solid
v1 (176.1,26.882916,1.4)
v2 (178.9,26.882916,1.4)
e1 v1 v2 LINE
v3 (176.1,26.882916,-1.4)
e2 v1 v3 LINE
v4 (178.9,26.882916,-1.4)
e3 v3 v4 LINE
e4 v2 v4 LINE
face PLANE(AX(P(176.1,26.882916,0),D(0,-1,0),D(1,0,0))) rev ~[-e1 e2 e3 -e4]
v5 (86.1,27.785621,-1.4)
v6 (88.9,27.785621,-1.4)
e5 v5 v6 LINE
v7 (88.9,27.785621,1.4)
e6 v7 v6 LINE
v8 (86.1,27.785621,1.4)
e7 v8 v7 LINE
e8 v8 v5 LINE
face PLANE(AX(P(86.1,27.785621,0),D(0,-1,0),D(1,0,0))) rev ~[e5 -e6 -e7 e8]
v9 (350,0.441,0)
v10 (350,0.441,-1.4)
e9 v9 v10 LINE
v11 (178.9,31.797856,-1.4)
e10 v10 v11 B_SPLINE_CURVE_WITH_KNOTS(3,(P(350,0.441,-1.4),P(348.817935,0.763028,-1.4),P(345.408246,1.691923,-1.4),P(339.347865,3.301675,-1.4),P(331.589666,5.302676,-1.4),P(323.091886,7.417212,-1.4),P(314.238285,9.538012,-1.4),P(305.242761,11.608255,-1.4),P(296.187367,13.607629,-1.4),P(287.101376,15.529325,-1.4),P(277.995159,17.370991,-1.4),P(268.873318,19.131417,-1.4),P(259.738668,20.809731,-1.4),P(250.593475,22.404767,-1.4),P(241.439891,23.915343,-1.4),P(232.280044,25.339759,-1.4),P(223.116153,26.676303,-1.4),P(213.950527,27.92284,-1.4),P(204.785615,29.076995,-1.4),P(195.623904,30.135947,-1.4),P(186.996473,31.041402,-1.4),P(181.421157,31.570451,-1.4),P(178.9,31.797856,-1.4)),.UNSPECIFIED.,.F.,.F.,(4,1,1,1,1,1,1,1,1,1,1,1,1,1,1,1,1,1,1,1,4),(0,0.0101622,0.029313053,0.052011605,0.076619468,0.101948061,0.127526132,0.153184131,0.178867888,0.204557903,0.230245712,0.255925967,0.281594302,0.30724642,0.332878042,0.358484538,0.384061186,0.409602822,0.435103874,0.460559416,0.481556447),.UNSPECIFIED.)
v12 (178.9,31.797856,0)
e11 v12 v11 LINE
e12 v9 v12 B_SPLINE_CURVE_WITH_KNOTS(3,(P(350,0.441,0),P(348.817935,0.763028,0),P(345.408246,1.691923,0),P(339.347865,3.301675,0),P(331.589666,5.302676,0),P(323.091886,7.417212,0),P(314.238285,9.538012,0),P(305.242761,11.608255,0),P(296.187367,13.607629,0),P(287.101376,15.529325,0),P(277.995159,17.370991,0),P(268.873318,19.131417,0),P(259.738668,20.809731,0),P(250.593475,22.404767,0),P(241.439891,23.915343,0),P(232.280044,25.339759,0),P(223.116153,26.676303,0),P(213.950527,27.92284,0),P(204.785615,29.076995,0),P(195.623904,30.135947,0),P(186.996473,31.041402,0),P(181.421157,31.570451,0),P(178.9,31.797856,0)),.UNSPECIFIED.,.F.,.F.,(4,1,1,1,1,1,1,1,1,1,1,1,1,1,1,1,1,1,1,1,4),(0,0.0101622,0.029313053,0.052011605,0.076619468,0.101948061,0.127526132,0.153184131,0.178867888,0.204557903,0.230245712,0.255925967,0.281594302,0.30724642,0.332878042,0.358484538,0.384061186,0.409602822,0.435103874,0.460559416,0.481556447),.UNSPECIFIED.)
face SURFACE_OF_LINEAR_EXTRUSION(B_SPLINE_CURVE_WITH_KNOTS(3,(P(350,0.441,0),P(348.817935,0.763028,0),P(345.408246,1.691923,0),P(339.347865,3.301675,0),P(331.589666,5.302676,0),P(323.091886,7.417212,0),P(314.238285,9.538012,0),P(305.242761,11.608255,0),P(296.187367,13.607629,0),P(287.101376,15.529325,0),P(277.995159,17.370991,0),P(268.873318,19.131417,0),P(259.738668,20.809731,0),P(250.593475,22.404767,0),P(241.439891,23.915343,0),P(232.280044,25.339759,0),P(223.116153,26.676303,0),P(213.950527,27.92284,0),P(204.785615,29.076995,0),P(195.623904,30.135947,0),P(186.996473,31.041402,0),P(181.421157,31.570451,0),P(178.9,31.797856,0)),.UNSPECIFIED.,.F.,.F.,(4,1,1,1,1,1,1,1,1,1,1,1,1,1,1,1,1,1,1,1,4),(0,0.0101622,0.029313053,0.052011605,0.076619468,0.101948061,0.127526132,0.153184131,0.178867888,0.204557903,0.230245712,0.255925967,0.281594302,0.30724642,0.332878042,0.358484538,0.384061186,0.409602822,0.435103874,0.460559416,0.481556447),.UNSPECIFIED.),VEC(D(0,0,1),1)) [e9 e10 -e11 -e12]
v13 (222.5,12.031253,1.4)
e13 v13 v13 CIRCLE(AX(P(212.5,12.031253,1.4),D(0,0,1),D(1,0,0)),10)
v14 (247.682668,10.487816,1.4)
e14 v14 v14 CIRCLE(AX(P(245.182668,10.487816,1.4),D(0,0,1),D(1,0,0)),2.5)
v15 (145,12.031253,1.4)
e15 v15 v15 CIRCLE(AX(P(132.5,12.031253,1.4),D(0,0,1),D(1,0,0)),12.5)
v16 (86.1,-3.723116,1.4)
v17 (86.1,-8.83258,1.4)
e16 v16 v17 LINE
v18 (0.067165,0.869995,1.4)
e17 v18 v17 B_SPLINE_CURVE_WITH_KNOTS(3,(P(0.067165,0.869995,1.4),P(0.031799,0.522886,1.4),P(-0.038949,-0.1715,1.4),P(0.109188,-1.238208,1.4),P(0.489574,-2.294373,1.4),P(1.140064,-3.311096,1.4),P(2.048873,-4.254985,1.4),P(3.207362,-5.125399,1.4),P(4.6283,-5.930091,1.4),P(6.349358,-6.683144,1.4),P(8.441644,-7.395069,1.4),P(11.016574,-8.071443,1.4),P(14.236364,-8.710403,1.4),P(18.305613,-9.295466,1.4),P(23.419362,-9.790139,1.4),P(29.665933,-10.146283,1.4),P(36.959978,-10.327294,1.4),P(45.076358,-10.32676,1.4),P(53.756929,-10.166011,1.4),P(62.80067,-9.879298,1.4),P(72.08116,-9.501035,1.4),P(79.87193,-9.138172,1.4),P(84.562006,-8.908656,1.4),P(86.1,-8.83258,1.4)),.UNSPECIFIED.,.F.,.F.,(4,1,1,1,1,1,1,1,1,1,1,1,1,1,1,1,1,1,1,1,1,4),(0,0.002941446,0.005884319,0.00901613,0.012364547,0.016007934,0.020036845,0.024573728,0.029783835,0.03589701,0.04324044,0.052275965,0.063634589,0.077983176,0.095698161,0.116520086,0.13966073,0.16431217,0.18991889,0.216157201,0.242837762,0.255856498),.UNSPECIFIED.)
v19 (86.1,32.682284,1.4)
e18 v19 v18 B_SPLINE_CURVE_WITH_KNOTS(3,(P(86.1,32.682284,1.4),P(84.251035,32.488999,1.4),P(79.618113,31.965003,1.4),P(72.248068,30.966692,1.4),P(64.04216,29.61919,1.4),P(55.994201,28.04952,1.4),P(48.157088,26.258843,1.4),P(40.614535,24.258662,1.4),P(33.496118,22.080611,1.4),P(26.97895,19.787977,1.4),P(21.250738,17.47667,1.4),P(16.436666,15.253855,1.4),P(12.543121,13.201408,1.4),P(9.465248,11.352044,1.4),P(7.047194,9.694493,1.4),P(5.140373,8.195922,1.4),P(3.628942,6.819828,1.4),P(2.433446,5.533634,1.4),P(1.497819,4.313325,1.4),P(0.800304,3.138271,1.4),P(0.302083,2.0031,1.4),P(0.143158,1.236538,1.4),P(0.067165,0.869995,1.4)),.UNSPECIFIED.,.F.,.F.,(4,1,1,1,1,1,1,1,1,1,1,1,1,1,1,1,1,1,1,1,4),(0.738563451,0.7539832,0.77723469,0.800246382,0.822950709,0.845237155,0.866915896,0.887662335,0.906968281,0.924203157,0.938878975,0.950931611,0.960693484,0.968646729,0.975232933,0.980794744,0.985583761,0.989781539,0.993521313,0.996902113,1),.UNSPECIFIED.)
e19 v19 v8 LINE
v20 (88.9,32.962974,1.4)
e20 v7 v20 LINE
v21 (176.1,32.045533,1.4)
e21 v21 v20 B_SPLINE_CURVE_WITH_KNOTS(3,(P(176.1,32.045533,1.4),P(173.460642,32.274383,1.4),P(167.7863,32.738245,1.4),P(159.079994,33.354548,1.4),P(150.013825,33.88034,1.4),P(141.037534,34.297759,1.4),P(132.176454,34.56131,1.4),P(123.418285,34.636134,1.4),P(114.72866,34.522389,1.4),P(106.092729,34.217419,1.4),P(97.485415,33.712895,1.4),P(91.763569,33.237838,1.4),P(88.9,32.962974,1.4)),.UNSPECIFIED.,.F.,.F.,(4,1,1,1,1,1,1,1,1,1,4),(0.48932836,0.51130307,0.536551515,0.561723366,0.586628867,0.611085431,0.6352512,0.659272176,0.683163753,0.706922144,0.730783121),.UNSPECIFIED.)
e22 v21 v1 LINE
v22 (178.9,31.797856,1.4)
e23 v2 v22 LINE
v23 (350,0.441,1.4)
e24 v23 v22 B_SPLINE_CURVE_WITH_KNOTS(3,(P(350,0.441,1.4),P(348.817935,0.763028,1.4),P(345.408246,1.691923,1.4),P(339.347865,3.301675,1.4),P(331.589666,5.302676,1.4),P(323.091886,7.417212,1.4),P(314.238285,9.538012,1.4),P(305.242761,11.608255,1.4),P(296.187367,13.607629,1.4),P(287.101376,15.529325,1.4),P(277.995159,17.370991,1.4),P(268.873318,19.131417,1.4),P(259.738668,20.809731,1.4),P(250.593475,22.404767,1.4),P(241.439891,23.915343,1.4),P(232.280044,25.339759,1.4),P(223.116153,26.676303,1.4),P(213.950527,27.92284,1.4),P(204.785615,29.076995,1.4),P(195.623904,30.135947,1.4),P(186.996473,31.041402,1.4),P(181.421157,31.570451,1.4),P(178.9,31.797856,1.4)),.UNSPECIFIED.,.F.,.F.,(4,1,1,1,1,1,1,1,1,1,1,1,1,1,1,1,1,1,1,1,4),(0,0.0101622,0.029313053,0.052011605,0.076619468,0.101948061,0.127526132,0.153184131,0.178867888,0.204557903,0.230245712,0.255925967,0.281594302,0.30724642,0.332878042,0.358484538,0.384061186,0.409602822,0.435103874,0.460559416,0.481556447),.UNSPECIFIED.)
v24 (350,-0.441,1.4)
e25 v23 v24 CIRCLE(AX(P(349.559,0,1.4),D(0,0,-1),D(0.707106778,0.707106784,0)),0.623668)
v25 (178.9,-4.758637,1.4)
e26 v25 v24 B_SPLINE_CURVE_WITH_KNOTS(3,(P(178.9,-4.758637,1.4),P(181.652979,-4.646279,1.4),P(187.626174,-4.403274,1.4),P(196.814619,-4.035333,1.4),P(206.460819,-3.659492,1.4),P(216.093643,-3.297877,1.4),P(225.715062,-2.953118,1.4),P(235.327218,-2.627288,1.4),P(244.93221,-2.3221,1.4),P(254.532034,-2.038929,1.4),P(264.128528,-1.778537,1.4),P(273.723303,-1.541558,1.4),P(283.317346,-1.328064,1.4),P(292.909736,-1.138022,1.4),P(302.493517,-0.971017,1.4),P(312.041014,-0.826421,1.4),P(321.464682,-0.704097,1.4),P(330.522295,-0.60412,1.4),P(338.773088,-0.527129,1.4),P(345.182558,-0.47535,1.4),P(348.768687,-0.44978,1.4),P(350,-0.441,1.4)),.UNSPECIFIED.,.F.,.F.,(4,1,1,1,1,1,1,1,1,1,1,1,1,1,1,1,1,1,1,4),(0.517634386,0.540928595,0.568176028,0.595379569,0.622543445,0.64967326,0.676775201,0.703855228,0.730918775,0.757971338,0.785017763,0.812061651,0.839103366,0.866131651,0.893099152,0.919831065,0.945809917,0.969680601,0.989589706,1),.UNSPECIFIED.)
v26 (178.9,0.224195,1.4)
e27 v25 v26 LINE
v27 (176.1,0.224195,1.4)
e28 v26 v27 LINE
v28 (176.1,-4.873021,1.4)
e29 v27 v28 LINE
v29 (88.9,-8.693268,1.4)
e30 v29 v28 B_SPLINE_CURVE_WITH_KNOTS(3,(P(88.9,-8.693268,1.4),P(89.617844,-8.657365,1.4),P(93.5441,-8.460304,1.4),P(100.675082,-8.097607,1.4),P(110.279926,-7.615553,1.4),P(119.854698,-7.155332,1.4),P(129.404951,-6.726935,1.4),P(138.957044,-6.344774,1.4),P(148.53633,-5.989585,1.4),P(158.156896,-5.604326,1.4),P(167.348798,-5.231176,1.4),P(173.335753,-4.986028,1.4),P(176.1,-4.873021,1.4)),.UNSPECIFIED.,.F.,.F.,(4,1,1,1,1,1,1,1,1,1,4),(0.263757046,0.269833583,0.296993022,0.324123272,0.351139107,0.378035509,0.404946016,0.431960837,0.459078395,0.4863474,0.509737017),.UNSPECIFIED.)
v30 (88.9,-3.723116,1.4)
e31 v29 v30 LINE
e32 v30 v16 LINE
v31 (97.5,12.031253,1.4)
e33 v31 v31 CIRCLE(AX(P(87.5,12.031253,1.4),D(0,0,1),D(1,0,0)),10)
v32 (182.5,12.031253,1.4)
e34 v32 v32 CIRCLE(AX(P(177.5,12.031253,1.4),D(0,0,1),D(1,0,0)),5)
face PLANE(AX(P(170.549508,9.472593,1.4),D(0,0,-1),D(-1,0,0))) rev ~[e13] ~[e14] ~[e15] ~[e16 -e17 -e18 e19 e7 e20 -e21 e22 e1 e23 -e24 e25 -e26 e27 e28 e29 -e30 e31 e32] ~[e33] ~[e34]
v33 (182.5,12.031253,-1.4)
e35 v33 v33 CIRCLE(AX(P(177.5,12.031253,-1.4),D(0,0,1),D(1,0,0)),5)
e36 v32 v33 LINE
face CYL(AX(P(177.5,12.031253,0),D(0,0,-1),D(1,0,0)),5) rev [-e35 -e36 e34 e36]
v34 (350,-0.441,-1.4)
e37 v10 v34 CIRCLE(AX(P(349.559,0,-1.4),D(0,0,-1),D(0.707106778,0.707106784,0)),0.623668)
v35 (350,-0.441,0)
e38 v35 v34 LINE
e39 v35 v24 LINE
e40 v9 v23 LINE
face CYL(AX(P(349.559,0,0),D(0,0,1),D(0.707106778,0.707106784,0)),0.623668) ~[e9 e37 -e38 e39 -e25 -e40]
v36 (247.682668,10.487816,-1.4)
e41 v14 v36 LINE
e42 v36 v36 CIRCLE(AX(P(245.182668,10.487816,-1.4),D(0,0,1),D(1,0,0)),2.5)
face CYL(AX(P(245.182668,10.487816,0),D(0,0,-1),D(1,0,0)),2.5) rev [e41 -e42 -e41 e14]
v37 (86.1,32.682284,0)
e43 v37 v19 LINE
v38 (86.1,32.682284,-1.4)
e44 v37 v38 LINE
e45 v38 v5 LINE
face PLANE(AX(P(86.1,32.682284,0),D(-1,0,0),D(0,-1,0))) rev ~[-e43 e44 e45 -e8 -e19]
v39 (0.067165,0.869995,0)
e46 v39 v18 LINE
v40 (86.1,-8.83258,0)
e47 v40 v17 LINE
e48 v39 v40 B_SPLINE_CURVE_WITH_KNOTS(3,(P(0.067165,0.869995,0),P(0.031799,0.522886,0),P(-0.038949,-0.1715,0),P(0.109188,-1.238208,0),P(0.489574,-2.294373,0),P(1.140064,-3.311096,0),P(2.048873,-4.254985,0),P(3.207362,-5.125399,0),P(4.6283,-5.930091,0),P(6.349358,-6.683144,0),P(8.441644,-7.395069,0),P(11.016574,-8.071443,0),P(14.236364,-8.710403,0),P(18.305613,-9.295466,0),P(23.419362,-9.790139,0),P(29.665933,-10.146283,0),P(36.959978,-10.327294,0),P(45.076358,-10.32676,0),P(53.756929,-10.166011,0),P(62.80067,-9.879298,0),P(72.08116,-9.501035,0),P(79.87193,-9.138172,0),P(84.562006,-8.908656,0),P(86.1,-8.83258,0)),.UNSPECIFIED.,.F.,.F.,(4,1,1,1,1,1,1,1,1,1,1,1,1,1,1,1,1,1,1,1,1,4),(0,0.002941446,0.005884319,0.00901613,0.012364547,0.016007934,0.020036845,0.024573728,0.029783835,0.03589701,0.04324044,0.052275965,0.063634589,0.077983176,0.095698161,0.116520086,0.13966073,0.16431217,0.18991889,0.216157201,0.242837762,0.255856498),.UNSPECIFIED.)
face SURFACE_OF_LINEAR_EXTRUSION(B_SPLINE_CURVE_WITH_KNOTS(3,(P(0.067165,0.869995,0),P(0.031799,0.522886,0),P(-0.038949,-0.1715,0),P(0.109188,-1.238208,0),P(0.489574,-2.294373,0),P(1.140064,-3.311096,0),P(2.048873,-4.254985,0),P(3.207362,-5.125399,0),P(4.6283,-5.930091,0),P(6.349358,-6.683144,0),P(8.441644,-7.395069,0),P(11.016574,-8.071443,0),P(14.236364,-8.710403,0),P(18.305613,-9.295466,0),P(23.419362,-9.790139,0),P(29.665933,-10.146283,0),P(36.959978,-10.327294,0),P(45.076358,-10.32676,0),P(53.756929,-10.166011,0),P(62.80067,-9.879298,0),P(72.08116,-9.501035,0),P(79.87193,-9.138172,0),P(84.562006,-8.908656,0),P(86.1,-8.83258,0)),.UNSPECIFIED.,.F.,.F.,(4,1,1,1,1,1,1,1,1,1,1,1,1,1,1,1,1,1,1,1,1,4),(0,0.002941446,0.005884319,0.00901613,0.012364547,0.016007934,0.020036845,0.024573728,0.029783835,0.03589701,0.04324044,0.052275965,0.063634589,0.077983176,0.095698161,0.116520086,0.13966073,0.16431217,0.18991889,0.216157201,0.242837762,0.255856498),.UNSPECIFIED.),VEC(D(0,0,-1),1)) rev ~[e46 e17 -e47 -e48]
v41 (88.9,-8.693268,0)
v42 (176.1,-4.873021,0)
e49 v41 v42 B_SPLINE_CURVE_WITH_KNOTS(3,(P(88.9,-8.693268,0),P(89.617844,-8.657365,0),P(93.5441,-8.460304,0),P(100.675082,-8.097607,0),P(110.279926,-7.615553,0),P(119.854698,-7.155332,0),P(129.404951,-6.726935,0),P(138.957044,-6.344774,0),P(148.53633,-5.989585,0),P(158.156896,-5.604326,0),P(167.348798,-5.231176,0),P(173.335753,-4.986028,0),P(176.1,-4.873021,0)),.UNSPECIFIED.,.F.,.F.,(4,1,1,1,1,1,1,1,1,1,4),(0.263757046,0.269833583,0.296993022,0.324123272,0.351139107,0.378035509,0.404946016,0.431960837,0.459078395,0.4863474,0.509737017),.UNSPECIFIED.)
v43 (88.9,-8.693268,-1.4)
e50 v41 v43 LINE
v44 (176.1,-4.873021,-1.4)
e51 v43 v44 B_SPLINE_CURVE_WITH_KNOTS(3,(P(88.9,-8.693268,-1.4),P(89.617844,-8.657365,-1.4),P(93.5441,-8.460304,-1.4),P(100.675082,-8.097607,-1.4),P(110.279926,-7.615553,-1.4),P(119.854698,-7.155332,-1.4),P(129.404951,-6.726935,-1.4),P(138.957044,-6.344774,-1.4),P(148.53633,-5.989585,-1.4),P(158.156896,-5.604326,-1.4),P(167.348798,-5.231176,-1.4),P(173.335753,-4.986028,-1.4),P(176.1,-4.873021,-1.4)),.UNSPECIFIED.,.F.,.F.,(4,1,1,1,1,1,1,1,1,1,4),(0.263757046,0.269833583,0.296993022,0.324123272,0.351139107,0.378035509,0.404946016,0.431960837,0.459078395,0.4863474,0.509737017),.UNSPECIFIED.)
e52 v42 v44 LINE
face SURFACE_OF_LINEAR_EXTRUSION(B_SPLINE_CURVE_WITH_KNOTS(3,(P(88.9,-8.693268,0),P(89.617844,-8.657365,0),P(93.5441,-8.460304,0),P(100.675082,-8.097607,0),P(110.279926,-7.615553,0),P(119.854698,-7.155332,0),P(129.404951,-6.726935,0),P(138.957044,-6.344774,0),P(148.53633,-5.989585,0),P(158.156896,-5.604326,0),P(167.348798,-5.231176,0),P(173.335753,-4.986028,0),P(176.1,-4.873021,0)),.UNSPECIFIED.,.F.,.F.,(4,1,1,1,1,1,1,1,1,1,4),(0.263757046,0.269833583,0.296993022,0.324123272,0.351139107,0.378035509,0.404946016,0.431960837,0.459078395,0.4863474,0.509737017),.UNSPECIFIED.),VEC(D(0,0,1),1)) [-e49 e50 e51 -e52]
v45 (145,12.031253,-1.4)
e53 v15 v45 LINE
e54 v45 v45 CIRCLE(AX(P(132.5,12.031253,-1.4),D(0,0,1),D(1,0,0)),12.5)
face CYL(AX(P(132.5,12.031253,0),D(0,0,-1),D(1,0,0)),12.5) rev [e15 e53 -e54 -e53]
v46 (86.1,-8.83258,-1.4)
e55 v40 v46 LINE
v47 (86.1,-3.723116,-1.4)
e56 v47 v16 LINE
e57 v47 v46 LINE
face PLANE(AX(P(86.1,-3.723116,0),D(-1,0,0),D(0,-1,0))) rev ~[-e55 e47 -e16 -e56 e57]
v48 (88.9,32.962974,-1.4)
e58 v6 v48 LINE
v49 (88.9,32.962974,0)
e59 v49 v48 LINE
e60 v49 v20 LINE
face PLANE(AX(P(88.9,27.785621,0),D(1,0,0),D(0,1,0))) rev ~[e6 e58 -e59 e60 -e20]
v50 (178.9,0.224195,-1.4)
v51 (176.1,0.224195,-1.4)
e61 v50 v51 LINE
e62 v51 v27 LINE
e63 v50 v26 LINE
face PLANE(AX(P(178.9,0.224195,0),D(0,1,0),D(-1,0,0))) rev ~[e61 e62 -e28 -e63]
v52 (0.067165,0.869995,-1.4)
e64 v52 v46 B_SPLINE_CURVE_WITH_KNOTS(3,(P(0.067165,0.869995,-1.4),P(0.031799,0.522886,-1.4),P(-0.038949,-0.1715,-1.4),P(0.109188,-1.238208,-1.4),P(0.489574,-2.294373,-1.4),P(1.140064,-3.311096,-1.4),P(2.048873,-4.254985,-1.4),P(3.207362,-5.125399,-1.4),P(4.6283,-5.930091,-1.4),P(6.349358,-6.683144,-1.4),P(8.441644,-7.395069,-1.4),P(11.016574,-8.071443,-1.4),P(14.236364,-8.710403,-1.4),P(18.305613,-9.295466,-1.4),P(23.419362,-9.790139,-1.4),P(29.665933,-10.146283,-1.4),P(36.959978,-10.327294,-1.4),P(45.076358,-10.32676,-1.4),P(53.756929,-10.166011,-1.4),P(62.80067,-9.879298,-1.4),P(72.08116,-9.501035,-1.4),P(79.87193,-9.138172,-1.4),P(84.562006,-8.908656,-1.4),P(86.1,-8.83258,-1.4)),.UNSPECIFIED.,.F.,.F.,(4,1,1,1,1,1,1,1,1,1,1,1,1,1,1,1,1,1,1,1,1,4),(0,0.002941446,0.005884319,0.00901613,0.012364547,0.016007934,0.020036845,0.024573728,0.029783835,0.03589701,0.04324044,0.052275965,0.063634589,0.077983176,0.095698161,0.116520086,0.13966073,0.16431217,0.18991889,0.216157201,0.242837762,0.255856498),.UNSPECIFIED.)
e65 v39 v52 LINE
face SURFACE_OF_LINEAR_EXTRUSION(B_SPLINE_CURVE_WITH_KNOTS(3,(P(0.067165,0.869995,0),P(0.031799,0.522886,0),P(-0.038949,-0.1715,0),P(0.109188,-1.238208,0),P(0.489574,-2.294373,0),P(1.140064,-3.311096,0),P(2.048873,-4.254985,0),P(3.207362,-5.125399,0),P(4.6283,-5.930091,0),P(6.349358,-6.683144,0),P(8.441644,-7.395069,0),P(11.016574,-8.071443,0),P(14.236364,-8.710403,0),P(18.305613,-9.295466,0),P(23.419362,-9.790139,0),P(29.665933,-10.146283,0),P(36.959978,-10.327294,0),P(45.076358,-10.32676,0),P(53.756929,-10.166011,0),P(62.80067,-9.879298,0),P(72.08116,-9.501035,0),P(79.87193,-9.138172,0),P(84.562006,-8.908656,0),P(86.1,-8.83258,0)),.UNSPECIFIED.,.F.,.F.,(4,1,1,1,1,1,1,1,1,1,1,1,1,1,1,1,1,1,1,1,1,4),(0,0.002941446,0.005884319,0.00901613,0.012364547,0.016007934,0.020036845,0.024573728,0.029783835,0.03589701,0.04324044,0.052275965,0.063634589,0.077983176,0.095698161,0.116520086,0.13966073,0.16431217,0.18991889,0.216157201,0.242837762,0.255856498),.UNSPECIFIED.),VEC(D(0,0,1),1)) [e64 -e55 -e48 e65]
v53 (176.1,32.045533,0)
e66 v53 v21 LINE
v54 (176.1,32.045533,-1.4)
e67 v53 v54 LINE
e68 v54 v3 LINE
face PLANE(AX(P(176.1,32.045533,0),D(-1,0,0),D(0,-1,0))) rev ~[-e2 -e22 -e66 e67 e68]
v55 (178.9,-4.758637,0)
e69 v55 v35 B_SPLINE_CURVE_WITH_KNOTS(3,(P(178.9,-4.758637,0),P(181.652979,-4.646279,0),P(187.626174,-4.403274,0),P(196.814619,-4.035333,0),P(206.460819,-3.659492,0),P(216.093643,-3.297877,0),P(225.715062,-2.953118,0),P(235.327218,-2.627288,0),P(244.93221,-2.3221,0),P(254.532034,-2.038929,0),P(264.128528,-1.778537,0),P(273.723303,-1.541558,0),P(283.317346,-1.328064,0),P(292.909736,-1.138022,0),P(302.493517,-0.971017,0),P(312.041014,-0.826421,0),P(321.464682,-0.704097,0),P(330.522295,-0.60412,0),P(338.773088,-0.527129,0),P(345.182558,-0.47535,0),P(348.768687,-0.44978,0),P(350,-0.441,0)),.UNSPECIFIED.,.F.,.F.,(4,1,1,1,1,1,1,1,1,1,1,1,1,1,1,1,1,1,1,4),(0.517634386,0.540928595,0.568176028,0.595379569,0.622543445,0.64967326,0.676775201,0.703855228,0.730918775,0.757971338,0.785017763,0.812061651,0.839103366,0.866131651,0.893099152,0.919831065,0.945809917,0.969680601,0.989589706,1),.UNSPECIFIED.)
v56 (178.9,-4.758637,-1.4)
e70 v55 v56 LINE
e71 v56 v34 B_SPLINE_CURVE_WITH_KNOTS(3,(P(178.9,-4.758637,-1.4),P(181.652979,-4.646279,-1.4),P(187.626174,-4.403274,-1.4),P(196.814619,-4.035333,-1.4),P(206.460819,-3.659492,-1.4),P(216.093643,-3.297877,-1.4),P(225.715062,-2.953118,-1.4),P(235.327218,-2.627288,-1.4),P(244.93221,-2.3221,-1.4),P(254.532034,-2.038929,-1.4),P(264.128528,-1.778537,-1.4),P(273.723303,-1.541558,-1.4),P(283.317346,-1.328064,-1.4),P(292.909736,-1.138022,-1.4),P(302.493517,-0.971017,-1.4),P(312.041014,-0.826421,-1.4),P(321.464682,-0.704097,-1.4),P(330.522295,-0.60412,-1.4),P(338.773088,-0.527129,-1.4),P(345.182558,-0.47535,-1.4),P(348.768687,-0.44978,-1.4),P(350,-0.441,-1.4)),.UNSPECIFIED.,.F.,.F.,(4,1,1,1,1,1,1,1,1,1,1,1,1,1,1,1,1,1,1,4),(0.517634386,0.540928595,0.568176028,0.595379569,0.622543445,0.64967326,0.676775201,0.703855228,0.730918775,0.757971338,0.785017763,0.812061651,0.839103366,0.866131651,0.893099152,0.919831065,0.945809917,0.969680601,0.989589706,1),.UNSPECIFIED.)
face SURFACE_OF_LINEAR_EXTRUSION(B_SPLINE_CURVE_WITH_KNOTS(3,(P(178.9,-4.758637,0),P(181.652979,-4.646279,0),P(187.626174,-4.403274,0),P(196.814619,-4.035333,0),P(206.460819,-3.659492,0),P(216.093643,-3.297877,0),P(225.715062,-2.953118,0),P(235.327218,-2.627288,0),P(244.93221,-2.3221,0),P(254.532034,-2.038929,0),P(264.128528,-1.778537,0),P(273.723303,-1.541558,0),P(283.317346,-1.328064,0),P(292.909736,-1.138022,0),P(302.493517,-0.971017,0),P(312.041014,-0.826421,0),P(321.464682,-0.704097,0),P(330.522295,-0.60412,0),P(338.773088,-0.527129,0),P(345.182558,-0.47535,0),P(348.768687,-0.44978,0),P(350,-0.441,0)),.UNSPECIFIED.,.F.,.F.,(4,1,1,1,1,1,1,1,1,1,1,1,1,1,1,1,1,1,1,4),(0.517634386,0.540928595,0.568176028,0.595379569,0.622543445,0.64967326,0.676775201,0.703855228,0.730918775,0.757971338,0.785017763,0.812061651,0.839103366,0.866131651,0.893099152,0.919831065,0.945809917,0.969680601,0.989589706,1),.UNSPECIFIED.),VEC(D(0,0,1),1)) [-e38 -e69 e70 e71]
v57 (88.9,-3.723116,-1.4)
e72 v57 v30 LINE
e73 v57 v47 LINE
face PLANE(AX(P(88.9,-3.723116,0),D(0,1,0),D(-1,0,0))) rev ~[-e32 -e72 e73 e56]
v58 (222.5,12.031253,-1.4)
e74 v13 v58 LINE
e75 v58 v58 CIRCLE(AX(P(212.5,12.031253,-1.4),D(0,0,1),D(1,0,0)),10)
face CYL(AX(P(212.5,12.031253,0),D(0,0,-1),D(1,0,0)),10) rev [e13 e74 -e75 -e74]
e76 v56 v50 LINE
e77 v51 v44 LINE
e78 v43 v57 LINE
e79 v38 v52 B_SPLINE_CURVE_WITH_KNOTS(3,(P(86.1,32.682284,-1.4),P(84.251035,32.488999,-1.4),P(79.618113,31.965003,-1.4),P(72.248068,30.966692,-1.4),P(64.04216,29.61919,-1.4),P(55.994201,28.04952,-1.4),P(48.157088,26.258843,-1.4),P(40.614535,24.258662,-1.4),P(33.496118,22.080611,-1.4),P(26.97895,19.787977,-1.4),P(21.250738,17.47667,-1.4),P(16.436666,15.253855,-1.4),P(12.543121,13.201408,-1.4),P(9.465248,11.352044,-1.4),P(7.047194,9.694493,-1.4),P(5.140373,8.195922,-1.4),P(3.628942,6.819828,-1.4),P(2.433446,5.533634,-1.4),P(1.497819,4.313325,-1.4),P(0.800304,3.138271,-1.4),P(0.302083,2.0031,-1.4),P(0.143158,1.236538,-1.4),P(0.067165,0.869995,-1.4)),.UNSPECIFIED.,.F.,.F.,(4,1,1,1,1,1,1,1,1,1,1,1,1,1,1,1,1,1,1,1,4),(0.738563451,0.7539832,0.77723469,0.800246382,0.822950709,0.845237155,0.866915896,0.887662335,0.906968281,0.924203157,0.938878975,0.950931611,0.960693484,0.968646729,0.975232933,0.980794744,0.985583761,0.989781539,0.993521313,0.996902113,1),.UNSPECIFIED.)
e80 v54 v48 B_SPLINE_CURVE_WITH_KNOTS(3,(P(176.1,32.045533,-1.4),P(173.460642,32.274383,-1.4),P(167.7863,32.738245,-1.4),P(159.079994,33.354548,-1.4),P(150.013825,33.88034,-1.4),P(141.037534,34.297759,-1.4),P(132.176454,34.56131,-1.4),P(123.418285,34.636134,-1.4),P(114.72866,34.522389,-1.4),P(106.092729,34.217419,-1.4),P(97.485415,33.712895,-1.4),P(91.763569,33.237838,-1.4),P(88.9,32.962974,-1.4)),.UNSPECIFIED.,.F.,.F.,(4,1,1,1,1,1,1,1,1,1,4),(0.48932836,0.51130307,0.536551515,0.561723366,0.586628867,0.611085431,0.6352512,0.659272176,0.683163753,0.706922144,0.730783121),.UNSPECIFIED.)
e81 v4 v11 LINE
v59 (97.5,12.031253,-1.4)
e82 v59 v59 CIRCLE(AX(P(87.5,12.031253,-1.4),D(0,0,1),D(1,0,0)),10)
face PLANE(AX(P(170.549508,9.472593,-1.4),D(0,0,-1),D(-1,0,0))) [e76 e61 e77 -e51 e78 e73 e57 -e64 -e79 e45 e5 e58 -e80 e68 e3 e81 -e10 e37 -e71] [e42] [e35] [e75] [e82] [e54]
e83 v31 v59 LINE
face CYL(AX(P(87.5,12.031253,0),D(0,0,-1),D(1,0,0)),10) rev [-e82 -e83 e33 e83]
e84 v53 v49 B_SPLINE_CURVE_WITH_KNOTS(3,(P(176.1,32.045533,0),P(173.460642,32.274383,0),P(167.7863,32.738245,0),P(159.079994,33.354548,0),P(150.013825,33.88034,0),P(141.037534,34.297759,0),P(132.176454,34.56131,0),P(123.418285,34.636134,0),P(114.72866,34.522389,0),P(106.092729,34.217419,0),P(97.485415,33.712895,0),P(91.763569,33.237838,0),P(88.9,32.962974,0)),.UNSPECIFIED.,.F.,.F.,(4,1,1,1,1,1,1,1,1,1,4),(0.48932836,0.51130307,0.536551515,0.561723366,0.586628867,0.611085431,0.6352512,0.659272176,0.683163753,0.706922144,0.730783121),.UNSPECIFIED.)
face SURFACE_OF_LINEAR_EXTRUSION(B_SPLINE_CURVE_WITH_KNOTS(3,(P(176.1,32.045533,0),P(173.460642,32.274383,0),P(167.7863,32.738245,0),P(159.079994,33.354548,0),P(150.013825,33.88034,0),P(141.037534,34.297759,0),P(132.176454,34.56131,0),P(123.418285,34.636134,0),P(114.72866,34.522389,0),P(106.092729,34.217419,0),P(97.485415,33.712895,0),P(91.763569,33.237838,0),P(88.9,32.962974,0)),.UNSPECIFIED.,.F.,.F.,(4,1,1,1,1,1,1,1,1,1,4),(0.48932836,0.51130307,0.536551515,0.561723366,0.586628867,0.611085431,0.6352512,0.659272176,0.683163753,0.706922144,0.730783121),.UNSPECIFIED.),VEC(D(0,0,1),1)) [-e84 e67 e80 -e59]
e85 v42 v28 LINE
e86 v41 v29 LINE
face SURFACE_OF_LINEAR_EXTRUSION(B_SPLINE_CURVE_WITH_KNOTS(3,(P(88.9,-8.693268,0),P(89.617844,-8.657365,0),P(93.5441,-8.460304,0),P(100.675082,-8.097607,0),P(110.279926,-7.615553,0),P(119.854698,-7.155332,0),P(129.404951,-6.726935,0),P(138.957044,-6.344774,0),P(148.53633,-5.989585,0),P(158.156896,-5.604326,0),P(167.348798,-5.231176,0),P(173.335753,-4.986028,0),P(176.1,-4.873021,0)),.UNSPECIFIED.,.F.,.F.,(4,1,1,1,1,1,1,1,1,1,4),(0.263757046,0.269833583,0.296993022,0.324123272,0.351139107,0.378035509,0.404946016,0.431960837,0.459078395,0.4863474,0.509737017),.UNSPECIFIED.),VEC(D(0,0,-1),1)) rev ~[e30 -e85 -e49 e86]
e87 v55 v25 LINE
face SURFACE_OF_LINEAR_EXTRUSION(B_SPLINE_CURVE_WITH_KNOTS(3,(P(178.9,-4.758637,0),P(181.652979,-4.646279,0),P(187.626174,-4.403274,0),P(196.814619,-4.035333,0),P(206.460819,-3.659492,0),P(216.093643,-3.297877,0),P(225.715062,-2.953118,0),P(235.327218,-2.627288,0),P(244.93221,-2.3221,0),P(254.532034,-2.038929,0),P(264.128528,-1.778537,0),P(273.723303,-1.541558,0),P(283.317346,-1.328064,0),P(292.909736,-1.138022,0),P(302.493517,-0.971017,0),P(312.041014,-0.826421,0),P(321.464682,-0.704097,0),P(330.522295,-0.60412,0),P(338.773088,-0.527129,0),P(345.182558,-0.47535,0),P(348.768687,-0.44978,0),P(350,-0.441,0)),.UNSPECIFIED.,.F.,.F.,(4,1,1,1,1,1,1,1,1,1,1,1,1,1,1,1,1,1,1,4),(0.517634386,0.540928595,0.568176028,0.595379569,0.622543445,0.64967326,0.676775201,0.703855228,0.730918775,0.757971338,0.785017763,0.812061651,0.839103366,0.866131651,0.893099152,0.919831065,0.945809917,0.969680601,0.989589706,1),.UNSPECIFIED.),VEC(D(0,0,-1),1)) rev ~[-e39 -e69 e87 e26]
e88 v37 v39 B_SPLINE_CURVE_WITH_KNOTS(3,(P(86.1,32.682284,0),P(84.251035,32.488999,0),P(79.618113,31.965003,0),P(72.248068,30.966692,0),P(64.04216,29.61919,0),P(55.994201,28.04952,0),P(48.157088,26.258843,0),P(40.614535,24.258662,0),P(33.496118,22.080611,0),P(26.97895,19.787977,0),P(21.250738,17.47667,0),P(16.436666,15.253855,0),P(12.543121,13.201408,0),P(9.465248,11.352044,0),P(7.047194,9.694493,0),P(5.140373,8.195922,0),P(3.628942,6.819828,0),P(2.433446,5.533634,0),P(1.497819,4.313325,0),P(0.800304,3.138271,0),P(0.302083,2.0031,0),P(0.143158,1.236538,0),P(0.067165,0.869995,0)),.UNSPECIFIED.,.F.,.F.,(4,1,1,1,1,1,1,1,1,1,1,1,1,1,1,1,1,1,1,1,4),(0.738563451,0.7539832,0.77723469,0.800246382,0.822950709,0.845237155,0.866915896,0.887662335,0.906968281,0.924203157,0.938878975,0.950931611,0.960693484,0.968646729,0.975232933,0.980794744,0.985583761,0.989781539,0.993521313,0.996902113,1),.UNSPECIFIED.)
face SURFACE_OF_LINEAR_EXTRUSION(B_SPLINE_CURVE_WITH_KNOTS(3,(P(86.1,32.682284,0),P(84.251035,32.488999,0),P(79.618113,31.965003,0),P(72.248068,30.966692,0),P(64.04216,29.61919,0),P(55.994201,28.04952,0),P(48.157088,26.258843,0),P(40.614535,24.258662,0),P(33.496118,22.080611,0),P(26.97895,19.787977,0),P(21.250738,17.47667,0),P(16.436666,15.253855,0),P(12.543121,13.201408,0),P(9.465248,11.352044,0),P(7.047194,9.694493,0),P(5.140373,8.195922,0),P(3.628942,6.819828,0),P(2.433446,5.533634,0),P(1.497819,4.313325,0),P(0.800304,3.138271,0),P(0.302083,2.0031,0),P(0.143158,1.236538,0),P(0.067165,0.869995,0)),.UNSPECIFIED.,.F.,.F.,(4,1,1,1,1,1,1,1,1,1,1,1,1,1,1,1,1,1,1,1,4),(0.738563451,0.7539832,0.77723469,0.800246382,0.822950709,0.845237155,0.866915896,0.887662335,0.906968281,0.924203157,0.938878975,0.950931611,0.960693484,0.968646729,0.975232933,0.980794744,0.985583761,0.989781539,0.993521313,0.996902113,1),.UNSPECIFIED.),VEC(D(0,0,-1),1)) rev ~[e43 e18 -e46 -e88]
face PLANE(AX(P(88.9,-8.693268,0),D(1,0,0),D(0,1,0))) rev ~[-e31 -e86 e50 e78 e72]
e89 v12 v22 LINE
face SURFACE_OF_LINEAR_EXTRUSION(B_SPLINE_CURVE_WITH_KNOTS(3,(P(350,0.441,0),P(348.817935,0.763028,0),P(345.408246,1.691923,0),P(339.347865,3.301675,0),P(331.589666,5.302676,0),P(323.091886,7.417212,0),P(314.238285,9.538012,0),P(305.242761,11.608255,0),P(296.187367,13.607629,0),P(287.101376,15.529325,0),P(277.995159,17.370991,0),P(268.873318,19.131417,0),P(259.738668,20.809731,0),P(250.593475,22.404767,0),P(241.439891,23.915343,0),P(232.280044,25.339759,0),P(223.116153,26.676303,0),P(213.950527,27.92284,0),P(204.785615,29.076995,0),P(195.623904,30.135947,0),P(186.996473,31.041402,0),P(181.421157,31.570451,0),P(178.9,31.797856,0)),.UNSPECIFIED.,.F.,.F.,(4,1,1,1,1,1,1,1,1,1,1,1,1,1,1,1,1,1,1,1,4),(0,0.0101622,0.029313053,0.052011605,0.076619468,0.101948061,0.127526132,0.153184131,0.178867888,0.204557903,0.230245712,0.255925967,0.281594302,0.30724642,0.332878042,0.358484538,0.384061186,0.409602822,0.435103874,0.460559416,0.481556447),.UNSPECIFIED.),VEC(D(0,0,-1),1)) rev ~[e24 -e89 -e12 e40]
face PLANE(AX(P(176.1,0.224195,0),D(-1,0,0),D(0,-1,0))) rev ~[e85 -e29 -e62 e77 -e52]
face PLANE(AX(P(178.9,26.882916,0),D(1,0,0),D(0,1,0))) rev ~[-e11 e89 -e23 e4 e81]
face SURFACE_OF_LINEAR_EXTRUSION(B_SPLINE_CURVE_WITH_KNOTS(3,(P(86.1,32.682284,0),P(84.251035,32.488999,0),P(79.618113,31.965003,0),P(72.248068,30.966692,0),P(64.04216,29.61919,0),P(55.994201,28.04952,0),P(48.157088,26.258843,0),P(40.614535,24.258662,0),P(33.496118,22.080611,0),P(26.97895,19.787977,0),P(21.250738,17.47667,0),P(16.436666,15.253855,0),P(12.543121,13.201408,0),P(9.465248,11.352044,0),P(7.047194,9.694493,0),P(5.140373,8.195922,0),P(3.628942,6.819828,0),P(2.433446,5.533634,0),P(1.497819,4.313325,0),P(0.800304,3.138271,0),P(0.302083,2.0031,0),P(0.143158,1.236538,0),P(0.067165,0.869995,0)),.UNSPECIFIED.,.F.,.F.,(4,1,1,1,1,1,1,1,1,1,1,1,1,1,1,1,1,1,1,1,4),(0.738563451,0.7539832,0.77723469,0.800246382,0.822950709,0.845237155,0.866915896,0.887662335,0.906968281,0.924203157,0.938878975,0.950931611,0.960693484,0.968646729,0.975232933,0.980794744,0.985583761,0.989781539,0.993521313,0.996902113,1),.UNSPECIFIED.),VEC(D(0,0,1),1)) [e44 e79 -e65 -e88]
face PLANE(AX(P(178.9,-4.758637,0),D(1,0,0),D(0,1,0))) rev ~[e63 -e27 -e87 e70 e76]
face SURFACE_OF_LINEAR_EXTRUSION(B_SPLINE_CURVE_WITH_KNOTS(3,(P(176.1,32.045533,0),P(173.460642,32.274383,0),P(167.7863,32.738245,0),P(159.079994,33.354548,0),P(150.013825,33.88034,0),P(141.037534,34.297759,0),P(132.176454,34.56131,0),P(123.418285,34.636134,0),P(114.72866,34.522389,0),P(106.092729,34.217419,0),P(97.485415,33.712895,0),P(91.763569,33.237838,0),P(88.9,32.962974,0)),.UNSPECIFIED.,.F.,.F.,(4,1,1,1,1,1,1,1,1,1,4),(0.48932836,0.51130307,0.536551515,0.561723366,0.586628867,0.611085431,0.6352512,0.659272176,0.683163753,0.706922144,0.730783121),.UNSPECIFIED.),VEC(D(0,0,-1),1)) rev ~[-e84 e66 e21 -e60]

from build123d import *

# Parameters (mm, degrees)
SKETCH_2_R      = 10
SKETCH_2_R_2    = 5
SKETCH_2_R_3    = 12.5
SKETCH_2_R_4    = 2.5
EXTRUDE_1_DEPTH = 1.4


with BuildPart() as part:
    # Эскиз2 → Бобышка-Вытянуть1 (new body, symmetric)
    with BuildSketch(Plane.XY):
        with BuildLine():
            Line((86.1, 32.682283633), (86.1, 27.785621096))
            Line((86.1, 27.785621096), (88.9, 27.785621096))
            Line((88.9, 27.785621096), (88.9, 32.962973681))
            add(Edge.make_bspline(
                [(176.1, 32.045532515), (173.460642448, 32.274383054), (167.786299659, 32.738244602), (159.079993996, 33.354548335), (150.013824851, 33.880339702), (141.037533969, 34.297759375), (132.176453799, 34.561309726), (123.418285188, 34.636133951), (114.728660276, 34.522388831), (106.092728827, 34.217419352), (97.485414888, 33.712894632), (91.763569037, 33.237837821), (88.9, 32.962973681)],
                knots=[0.48932836, 0.48932836, 0.48932836, 0.48932836, 0.51130307, 0.536551515, 0.561723366, 0.586628867, 0.611085431, 0.6352512, 0.659272176, 0.683163753, 0.706922144, 0.730783121, 0.730783121, 0.730783121, 0.730783121], degree=3))
            Line((176.1, 32.045532515), (176.1, 26.882916451))
            Line((176.1, 26.882916451), (178.9, 26.882916451))
            Line((178.9, 26.882916451), (178.9, 31.797856127))
            add(Edge.make_bspline(
                [(350, 0.441), (348.817934836, 0.763027745), (345.408245977, 1.69192274), (339.347864917, 3.301674674), (331.589665686, 5.302675511), (323.091885591, 7.417212373), (314.238285126, 9.538012439), (305.242760894, 11.608254886), (296.187367062, 13.60762908), (287.101376113, 15.529324906), (277.995159278, 17.370991017), (268.873317879, 19.131417094), (259.738667962, 20.809730625), (250.593474588, 22.404766691), (241.439890638, 23.915343362), (232.280043933, 25.339758978), (223.116153021, 26.676302541), (213.950527179, 27.922839844), (204.785615162, 29.076995056), (195.623903708, 30.135946559), (186.99647265, 31.041402296), (181.421156727, 31.570451189), (178.9, 31.797856127)],
                knots=[0, 0, 0, 0, 0.0101622, 0.029313053, 0.052011605, 0.076619468, 0.101948061, 0.127526132, 0.153184131, 0.178867888, 0.204557903, 0.230245712, 0.255925967, 0.281594302, 0.30724642, 0.332878042, 0.358484538, 0.384061186, 0.409602822, 0.435103874, 0.460559416, 0.481556447, 0.481556447, 0.481556447, 0.481556447], degree=3))
            ThreePointArc((350, 0.441), (350.182668182, 0), (350, -0.441))
            add(Edge.make_bspline(
                [(178.9, -4.758637273), (181.652979317, -4.646278606), (187.626173611, -4.403273739), (196.81461857, -4.035333009), (206.460819266, -3.659492142), (216.093643375, -3.297876981), (225.715061788, -2.95311789), (235.327217645, -2.627287704), (244.932209931, -2.322100346), (254.532034352, -2.038929372), (264.128528247, -1.778536728), (273.723303235, -1.541558038), (283.317346051, -1.328064065), (292.909735844, -1.138021673), (302.493517153, -0.971016602), (312.041013985, -0.826421034), (321.464682241, -0.704096652), (330.522295396, -0.604119869), (338.773087678, -0.527128646), (345.182558015, -0.475350241), (348.76868735, -0.44977974), (350, -0.441)],
                knots=[0.517634386, 0.517634386, 0.517634386, 0.517634386, 0.540928595, 0.568176028, 0.595379569, 0.622543445, 0.64967326, 0.676775201, 0.703855228, 0.730918775, 0.757971338, 0.785017763, 0.812061651, 0.839103366, 0.866131651, 0.893099152, 0.919831065, 0.945809917, 0.969680601, 0.989589706, 1, 1, 1, 1], degree=3))
            Line((178.9, -4.758637273), (178.9, 0.224194977))
            Line((178.9, 0.224194977), (176.1, 0.224194977))
            Line((176.1, 0.224194977), (176.1, -4.873020948))
            add(Edge.make_bspline(
                [(88.9, -8.693267562), (89.617844041, -8.657365264), (93.544099689, -8.4603043), (100.675081793, -8.097607246), (110.279925807, -7.615552634), (119.854698054, -7.155331752), (129.404950626, -6.726934654), (138.957043666, -6.344774315), (148.536329767, -5.989584537), (158.156896352, -5.604325894), (167.348797605, -5.231176131), (173.335752744, -4.986028102), (176.1, -4.873020948)],
                knots=[0.263757046, 0.263757046, 0.263757046, 0.263757046, 0.269833583, 0.296993022, 0.324123272, 0.351139107, 0.378035509, 0.404946016, 0.431960837, 0.459078395, 0.4863474, 0.509737017, 0.509737017, 0.509737017, 0.509737017], degree=3))
            Line((88.9, -8.693267562), (88.9, -3.723116029))
            Line((88.9, -3.723116029), (86.1, -3.723116029))
            Line((86.1, -3.723116029), (86.1, -8.832579685))
            add(Edge.make_bspline(
                [(0.067165, 0.869995), (0.031799348, 0.52288612), (-0.038949105, -0.171499965), (0.109187697, -1.238208426), (0.489573911, -2.294373299), (1.140063589, -3.311096493), (2.048873093, -4.254985343), (3.207362223, -5.125399257), (4.62830025, -5.930091469), (6.349357867, -6.683143801), (8.441643964, -7.39506903), (11.016573701, -8.071443347), (14.236363949, -8.71040323), (18.305613464, -9.295466224), (23.419361508, -9.790139433), (29.665932935, -10.146283203), (36.959978182, -10.327294388), (45.07635799, -10.326759678), (53.756929463, -10.166011212), (62.800670475, -9.879297901), (72.081160335, -9.501034945), (79.871929674, -9.138172062), (84.562006059, -8.908655535), (86.1, -8.832579685)],
                knots=[0, 0, 0, 0, 0.002941446, 0.005884319, 0.00901613, 0.012364547, 0.016007934, 0.020036845, 0.024573728, 0.029783835, 0.03589701, 0.04324044, 0.052275965, 0.063634589, 0.077983176, 0.095698161, 0.116520086, 0.13966073, 0.16431217, 0.18991889, 0.216157201, 0.242837762, 0.255856498, 0.255856498, 0.255856498, 0.255856498], degree=3))
            add(Edge.make_bspline(
                [(86.1, 32.682283633), (84.251034658, 32.488999326), (79.618112888, 31.965003077), (72.248067764, 30.96669173), (64.042160436, 29.619190205), (55.994200632, 28.049519945), (48.157087779, 26.258842728), (40.614534945, 24.258661851), (33.496117772, 22.08061089), (26.978950376, 19.787977208), (21.250737748, 17.476669613), (16.436666106, 15.253855393), (12.543120617, 13.201408311), (9.465247652, 11.352044479), (7.047193647, 9.694493277), (5.140372907, 8.19592153), (3.628941572, 6.819827516), (2.433445936, 5.533634041), (1.497819162, 4.313324923), (0.800303575, 3.138270943), (0.302083458, 2.003099556), (0.143157814, 1.236538372), (0.067165, 0.869995)],
                knots=[0.738563451, 0.738563451, 0.738563451, 0.738563451, 0.7539832, 0.77723469, 0.800246382, 0.822950709, 0.845237155, 0.866915896, 0.887662335, 0.906968281, 0.924203157, 0.938878975, 0.950931611, 0.960693484, 0.968646729, 0.975232933, 0.980794744, 0.985583761, 0.989781539, 0.993521313, 0.996902113, 1, 1, 1, 1], degree=3))
        make_face()
        with Locations((87.5, 12.031252534)):
            Circle(SKETCH_2_R, mode=Mode.SUBTRACT)
        with Locations((177.5, 12.031252534)):
            Circle(SKETCH_2_R_2, mode=Mode.SUBTRACT)
        with Locations((132.5, 12.031252534)):
            Circle(SKETCH_2_R_3, mode=Mode.SUBTRACT)
        with Locations((212.5, 12.031252534)):
            Circle(SKETCH_2_R, mode=Mode.SUBTRACT)
        with Locations((245.182668182, 10.487815621)):
            Circle(SKETCH_2_R_4, mode=Mode.SUBTRACT)
    extrude(amount=EXTRUDE_1_DEPTH, both=True)


solid = part.part
